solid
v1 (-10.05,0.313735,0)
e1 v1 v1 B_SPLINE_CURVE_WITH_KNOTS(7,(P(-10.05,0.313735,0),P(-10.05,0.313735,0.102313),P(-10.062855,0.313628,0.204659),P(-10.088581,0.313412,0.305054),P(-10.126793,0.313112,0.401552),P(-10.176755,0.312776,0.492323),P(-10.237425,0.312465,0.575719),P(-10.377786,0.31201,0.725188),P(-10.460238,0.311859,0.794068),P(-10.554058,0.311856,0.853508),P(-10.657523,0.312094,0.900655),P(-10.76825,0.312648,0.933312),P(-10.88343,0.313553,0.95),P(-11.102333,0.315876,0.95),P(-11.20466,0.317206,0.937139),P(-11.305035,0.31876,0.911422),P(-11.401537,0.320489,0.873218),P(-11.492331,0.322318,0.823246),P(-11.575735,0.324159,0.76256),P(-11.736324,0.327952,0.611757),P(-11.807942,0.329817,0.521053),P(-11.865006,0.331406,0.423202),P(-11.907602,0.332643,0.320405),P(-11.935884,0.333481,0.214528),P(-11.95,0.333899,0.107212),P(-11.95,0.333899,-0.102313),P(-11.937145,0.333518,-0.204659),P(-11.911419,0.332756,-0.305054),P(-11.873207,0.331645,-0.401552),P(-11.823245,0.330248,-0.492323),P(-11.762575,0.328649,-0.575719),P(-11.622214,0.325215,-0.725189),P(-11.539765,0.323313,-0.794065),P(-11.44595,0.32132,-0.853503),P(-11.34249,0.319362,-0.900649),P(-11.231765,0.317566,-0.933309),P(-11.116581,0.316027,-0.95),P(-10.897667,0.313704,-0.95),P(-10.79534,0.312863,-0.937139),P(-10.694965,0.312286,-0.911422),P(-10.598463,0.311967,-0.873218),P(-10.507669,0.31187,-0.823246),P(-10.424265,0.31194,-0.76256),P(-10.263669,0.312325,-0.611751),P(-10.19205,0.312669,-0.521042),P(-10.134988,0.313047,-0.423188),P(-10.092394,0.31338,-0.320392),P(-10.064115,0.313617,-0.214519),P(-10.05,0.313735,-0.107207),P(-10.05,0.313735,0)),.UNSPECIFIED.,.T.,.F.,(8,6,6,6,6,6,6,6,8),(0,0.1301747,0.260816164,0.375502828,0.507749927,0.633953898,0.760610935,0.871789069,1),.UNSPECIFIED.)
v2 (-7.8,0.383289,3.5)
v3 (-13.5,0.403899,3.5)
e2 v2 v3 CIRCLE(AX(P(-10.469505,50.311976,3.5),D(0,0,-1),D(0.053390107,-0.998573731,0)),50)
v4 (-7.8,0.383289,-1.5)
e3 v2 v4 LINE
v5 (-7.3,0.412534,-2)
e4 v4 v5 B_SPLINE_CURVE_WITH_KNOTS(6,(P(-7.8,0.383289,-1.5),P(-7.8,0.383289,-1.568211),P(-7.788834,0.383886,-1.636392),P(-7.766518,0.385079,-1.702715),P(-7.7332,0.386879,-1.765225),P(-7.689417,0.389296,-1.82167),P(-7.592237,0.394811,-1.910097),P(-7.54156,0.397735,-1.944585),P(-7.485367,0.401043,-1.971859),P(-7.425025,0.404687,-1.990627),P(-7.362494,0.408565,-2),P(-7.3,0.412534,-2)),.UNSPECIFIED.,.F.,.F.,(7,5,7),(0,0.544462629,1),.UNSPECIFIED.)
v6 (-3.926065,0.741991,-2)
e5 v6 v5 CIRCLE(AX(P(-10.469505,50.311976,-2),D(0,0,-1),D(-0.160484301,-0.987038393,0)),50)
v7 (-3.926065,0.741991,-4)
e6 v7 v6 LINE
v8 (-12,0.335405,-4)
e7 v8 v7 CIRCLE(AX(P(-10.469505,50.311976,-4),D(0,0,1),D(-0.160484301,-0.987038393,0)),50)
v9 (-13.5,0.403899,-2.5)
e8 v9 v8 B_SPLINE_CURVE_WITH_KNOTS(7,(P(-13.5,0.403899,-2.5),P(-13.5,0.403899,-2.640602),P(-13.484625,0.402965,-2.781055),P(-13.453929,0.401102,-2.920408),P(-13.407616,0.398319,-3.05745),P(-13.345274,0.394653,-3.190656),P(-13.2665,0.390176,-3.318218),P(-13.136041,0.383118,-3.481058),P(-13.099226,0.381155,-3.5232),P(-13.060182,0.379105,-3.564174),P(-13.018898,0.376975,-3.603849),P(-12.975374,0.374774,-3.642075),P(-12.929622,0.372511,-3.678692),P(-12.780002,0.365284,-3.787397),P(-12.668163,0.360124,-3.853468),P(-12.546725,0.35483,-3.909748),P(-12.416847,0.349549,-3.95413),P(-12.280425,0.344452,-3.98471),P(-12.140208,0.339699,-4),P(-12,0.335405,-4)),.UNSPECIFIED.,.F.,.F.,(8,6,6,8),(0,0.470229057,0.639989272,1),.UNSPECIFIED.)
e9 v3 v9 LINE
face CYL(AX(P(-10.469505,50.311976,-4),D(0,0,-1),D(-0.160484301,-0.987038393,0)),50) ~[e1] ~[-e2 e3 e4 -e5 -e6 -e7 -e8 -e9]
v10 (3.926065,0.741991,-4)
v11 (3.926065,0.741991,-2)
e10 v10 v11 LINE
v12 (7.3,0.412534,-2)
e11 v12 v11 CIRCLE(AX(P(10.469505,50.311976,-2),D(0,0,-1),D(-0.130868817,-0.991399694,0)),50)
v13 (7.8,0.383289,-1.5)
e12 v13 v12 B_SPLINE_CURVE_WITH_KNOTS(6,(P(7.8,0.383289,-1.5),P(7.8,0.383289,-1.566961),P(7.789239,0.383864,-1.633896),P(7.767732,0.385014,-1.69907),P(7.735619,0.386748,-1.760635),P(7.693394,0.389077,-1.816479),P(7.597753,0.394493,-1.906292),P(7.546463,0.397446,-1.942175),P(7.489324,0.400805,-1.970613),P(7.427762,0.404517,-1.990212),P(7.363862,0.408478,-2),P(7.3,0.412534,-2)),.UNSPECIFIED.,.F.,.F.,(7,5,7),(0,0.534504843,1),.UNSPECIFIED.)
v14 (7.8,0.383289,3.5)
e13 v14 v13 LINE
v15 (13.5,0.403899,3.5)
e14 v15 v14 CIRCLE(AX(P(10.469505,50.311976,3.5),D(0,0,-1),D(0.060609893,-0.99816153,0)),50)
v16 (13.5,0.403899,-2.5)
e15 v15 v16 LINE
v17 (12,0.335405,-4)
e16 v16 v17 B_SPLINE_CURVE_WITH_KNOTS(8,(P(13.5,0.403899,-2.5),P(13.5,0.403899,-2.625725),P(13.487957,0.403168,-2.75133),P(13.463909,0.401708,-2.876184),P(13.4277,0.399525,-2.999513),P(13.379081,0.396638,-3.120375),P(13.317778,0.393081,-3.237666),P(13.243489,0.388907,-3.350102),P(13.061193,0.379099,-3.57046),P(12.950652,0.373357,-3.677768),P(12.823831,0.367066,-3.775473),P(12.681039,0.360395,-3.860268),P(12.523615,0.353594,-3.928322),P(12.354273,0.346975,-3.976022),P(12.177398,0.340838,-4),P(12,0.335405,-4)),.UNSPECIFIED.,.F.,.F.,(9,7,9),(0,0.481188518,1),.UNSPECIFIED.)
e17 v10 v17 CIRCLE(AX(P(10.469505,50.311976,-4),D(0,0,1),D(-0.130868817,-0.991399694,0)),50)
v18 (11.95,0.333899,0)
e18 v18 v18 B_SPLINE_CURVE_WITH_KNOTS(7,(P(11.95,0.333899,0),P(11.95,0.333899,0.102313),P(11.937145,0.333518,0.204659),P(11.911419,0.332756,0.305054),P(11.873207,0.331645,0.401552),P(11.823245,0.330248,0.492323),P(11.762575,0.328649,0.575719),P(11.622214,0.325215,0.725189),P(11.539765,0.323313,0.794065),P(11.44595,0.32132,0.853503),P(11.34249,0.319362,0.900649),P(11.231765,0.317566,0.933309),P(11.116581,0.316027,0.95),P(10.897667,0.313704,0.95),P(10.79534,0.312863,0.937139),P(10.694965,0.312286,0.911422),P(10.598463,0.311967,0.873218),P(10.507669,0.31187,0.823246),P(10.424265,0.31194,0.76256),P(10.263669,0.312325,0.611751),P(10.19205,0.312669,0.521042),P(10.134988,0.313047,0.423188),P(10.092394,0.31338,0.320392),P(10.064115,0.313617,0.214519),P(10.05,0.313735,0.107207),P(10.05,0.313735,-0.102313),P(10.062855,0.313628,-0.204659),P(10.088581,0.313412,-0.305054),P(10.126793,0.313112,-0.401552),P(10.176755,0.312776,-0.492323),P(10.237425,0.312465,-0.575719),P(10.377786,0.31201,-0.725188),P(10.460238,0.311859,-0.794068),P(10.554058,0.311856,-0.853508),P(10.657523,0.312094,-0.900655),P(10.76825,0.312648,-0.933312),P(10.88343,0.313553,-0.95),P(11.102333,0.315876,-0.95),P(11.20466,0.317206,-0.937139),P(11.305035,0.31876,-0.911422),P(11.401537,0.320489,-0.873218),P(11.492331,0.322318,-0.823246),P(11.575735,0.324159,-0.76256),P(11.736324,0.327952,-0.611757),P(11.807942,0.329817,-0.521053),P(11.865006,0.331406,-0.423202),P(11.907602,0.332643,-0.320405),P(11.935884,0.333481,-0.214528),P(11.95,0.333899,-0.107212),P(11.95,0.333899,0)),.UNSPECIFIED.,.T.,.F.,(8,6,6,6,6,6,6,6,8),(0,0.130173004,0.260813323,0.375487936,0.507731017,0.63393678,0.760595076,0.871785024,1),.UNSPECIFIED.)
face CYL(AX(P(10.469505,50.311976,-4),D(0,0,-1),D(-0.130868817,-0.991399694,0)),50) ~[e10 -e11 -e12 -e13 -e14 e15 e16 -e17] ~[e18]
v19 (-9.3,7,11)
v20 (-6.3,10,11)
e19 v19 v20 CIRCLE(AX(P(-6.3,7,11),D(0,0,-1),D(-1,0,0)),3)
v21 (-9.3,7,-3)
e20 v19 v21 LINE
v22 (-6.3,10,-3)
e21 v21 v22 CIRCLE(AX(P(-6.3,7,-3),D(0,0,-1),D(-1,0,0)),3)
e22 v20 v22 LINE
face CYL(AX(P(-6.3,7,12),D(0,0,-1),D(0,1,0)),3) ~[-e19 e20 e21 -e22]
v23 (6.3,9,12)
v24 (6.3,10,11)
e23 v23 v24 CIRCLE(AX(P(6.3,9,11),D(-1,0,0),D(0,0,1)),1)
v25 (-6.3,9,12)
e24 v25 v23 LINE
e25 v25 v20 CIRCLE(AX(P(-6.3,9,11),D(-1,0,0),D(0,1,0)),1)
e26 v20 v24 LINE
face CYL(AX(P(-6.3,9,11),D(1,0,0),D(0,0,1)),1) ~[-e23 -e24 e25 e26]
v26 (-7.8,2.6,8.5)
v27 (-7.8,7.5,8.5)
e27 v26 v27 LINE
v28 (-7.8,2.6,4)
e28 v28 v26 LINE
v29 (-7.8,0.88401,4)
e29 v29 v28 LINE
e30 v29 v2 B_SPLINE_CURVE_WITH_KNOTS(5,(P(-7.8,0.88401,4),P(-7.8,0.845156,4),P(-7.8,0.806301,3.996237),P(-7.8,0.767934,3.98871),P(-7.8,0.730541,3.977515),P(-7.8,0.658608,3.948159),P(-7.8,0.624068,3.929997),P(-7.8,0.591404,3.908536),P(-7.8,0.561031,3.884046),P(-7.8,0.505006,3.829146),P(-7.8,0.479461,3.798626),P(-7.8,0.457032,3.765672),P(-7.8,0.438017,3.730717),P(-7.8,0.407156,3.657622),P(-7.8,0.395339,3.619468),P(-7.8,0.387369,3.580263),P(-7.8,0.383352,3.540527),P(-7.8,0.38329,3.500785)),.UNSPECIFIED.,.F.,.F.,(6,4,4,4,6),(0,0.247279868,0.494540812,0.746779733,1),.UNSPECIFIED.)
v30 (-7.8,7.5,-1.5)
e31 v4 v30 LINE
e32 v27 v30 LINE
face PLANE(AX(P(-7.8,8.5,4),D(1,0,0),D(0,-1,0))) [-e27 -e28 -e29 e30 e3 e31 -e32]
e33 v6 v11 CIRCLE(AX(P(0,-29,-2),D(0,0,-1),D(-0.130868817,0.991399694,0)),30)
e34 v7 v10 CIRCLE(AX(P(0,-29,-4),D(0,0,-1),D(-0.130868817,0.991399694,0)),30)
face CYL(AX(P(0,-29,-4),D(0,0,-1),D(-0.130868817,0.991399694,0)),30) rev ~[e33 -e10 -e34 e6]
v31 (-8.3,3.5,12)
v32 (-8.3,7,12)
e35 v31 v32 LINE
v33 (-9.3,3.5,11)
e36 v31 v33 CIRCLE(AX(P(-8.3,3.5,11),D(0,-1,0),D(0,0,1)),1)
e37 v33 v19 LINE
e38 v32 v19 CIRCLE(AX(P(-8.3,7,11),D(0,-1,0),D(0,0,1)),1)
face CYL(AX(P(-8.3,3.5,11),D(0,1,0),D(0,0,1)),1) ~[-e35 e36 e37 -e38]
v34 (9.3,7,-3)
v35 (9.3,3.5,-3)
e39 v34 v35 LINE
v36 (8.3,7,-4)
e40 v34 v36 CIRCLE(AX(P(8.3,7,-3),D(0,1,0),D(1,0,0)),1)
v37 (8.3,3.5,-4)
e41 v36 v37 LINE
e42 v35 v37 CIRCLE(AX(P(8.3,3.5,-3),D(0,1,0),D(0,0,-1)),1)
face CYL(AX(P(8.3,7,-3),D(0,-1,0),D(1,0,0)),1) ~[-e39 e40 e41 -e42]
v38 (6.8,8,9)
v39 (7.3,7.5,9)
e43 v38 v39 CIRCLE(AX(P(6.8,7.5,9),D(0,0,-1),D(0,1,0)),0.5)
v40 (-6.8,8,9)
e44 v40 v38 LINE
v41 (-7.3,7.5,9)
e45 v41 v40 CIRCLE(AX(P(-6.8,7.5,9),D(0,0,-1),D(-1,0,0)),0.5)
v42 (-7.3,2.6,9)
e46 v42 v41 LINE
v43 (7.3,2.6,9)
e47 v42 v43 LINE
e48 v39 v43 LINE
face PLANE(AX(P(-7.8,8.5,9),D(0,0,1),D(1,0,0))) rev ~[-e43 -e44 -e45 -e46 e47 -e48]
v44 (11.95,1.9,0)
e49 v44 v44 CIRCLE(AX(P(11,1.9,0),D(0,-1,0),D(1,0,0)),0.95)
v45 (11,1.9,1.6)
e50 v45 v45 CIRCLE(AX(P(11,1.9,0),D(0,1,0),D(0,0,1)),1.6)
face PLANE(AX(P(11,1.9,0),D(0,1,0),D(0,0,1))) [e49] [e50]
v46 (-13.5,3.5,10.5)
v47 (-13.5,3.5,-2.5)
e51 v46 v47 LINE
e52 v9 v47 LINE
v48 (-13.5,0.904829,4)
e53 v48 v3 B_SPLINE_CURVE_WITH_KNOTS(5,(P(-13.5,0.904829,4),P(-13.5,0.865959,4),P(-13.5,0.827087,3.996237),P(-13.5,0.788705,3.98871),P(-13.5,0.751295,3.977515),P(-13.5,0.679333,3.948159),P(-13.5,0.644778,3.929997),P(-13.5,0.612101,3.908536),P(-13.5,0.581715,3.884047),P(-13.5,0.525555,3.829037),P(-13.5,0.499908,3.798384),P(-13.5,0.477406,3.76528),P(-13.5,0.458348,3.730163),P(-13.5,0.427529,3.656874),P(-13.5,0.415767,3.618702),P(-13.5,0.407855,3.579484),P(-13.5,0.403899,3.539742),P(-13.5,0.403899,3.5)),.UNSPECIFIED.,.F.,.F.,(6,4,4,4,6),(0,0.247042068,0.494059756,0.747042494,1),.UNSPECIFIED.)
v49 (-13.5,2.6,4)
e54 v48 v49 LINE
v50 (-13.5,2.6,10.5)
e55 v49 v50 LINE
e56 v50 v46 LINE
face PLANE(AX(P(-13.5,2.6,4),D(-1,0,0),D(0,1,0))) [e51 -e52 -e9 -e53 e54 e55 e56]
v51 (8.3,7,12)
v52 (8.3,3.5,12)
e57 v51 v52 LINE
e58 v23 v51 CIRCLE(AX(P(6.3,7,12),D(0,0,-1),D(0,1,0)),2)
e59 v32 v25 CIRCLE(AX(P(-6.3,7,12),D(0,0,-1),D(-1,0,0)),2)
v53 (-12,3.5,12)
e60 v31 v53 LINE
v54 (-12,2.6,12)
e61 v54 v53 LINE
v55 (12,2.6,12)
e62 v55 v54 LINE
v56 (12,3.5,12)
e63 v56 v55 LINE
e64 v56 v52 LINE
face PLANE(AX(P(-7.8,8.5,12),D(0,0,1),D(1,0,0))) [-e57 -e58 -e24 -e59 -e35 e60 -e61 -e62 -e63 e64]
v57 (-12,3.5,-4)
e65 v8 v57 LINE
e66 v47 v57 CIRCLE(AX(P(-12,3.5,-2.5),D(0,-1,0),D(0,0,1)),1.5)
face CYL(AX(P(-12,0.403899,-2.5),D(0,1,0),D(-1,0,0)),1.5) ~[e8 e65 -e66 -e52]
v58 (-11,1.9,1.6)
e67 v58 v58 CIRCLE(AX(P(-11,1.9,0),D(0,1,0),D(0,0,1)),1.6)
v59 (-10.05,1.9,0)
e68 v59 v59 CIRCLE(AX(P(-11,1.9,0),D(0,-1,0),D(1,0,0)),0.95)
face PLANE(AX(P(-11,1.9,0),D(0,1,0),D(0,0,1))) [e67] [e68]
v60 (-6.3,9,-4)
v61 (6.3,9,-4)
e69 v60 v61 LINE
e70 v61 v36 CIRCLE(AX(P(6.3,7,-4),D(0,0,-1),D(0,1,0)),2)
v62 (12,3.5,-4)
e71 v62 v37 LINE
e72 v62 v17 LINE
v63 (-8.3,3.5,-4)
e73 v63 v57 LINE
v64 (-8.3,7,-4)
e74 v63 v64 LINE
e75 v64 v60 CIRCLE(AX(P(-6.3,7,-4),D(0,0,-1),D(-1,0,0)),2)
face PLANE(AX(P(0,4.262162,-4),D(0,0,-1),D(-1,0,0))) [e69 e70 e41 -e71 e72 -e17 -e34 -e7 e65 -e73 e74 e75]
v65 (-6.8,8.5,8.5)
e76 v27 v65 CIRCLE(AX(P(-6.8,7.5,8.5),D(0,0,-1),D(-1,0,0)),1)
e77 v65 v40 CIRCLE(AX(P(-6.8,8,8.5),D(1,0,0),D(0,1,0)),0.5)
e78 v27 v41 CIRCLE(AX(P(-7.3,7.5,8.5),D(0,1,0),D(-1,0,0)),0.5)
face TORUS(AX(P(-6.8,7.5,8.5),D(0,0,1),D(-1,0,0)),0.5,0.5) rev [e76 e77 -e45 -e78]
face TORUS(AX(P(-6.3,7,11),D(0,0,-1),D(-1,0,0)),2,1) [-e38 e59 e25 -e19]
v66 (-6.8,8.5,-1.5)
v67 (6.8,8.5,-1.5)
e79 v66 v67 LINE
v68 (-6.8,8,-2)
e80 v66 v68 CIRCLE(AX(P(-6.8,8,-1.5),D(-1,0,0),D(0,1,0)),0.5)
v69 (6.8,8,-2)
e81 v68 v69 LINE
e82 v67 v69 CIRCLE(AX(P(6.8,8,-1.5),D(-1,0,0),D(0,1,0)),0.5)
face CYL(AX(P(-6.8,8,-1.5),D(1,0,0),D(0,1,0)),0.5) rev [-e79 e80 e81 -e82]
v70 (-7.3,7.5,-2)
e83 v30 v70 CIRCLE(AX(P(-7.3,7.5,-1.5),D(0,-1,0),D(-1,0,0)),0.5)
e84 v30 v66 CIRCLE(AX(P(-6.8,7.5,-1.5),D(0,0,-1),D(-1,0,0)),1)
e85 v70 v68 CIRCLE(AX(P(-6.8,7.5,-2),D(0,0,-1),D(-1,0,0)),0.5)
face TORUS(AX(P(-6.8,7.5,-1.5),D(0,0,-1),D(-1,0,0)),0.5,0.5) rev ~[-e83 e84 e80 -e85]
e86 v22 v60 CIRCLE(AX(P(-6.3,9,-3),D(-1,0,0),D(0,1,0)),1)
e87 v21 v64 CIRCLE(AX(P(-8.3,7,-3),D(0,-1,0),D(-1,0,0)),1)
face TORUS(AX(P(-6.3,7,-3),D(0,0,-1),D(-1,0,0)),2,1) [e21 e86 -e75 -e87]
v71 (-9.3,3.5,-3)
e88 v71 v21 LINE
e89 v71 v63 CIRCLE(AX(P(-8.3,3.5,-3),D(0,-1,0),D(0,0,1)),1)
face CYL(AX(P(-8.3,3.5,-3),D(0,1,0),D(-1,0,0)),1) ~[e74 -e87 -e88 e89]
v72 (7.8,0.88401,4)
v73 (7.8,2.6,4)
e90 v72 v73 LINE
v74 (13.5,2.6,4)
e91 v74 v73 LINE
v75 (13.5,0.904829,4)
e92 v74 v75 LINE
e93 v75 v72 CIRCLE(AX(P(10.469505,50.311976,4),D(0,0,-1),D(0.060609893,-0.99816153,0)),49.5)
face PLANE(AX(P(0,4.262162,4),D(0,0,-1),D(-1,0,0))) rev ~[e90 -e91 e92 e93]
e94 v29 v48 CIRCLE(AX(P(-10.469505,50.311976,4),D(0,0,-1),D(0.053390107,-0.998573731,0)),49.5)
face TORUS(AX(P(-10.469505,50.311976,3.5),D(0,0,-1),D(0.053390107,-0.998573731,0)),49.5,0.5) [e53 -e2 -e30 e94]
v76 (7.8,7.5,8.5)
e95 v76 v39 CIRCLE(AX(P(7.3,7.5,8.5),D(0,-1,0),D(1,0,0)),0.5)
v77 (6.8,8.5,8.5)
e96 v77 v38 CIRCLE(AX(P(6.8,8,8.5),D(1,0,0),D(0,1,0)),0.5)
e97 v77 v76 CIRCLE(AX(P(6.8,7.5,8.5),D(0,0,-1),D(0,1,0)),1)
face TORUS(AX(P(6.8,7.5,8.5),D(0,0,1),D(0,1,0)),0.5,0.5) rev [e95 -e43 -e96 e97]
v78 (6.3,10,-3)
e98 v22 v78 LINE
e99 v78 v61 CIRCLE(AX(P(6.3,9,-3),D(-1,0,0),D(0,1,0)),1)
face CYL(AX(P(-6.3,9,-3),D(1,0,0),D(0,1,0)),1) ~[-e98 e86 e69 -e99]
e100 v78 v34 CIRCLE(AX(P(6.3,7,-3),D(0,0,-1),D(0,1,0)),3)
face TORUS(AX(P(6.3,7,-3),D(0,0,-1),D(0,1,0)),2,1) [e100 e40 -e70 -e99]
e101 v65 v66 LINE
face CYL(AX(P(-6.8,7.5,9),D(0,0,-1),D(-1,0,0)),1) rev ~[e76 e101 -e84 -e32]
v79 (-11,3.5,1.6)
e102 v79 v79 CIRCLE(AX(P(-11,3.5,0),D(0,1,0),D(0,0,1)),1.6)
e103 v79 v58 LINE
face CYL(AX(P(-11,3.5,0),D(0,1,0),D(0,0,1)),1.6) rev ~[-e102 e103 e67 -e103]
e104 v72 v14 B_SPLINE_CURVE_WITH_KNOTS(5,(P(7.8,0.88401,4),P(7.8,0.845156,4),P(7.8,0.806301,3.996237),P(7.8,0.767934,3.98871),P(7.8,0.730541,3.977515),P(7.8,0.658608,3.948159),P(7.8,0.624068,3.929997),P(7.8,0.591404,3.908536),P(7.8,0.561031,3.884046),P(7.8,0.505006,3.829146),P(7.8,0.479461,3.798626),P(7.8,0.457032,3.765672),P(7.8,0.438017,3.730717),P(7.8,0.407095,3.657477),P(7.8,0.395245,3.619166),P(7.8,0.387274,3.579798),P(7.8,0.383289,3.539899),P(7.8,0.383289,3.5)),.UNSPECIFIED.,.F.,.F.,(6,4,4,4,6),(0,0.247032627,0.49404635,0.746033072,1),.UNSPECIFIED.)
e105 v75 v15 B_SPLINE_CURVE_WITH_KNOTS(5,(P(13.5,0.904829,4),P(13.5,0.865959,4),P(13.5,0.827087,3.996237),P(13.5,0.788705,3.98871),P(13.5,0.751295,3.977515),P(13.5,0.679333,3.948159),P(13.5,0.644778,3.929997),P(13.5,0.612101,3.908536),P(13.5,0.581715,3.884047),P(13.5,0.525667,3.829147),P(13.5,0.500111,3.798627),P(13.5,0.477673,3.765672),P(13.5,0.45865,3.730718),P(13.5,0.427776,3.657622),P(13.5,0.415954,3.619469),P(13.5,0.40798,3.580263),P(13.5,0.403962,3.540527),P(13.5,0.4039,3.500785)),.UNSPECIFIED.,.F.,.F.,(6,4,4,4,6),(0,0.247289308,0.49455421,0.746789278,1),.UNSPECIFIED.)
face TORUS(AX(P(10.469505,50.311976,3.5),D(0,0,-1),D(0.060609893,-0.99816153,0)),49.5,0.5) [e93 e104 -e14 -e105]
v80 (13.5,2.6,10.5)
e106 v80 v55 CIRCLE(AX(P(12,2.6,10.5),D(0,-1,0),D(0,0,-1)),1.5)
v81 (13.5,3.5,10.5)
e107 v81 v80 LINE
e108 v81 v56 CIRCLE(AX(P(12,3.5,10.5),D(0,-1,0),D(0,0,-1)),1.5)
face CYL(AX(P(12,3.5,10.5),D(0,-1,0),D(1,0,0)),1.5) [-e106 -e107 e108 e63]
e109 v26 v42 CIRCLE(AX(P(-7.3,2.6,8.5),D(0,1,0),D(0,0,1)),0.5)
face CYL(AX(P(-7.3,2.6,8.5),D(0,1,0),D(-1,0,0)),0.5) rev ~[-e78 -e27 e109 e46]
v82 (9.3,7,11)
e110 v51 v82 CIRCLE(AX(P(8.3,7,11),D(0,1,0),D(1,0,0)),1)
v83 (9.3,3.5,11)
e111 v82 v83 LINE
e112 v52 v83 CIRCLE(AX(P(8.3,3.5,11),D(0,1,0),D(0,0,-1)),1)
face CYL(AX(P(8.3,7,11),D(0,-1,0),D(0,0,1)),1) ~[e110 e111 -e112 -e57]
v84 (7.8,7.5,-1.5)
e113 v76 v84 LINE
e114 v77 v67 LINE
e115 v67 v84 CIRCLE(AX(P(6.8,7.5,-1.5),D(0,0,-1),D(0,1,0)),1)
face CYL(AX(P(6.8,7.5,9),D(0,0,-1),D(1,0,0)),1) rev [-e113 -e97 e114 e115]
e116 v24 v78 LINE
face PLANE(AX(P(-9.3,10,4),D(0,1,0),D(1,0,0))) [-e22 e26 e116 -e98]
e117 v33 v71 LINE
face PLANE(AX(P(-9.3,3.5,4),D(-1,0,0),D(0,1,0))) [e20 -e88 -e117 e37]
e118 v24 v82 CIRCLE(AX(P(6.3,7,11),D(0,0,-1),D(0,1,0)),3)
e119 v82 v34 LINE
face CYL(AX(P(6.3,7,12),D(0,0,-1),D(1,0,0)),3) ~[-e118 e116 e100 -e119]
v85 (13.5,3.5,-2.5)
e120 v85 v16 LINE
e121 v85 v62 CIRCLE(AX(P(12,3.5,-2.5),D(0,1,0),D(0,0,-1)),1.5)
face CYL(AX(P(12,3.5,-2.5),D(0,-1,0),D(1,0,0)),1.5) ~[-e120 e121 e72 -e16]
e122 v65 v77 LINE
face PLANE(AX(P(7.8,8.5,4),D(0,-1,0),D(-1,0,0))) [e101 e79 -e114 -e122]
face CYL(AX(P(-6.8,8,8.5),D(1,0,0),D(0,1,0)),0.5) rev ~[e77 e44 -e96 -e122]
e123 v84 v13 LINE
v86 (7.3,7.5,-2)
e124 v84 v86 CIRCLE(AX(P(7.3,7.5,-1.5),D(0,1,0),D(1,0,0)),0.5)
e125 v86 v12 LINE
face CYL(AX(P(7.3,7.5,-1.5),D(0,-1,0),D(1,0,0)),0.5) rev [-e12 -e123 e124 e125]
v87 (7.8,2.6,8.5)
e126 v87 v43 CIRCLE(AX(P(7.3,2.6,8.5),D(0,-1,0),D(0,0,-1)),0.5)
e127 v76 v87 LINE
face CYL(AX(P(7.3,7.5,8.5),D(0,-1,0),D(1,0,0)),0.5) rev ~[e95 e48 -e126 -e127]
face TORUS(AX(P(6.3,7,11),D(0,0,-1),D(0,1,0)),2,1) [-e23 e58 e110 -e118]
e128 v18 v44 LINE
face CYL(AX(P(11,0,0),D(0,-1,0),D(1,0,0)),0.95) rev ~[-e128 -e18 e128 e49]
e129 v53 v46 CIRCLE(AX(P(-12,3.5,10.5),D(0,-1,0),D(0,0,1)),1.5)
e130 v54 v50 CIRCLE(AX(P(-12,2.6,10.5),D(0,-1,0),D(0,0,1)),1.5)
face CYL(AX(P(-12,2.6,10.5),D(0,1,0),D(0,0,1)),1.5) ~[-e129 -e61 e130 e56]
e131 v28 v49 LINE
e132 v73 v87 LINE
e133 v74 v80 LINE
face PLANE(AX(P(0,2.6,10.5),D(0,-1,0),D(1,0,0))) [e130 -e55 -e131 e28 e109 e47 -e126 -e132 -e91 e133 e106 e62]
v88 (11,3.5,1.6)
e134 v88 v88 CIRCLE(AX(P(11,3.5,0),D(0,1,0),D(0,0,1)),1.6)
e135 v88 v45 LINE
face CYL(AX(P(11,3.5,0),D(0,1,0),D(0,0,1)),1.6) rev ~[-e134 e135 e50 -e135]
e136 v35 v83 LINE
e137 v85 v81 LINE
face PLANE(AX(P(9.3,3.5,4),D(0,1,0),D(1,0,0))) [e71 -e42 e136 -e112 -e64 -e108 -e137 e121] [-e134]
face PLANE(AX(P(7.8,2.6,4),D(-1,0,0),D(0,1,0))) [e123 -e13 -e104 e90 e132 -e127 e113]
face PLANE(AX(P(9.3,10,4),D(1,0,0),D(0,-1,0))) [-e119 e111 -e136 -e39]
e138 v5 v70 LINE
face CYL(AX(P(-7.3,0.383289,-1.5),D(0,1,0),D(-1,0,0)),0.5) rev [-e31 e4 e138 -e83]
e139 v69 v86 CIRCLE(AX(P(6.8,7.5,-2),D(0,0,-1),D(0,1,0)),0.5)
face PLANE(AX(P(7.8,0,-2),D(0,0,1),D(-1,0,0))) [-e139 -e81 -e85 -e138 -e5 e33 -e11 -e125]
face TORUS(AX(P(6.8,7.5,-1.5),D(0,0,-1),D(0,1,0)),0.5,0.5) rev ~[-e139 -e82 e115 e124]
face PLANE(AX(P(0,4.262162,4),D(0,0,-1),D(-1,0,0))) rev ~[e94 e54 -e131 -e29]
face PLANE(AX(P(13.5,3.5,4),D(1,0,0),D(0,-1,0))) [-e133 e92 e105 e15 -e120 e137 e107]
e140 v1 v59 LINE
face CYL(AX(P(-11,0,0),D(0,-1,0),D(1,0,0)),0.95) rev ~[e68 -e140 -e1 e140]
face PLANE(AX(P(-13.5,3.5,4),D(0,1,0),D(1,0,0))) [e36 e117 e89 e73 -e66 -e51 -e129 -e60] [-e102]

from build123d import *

# Parameters (mm, degrees)
EXTRUDE_1_DEPTH     = 4
CUT_EXTRUDE_1_REACH = 19.27
SKETCH_2_R          = 0.95
SKETCH_5_W          = 15.6
SKETCH_5_H          = 6
CUT_EXTRUDE_2_DEPTH = 8.5
CUT_EXTRUDE_4_DEPTH = 19.607794066
EXTRUDE_2_DEPTH     = 8
SKETCH_12_W         = 15.6
SKETCH_12_H         = 3
EXTRUDE_3_DEPTH     = 5.9
SKETCH_13_R         = 1.6
CUT_EXTRUDE_5_DEPTH = 1.6
FILLET_1_R          = 3
FILLET_2_R          = 1
FILLET_3_R          = 1.5
FILLET_4_R          = 1
FILLET_5_R          = 0.5
FILLET_6_R          = 0.5


with BuildPart() as part:
    # 草图1 → 凸台-拉伸1 (new, symmetric)
    with BuildSketch(Plane.XY):
        Polygon((-13.5, 0), (-13.5, 3.5), (-9.3, 3.5), (-9.3, 10), (9.3, 10), (9.3, 3.5), (13.5, 3.5), (13.5, 0), align=None)
    extrude(amount=EXTRUDE_1_DEPTH, both=True)

    # 草图2 → 切除-拉伸1 (cut, up to next)
    with BuildSketch(Plane.XZ, mode=Mode.PRIVATE) as cut_extrude_1_sk1:
        with Locations((-11, 0)):
            Circle(SKETCH_2_R)
    cut_extrude_1_tool1 = extrude(cut_extrude_1_sk1.sketch, amount=-CUT_EXTRUDE_1_REACH, mode=Mode.PRIVATE) & part.part
    # 草图2 → 切除-拉伸1 (cut, up to next)
    with BuildSketch(Plane.XZ, mode=Mode.PRIVATE) as cut_extrude_1_sk2:
        with Locations((11, 0)):
            Circle(SKETCH_2_R)
    cut_extrude_1_tool2 = extrude(cut_extrude_1_sk2.sketch, amount=-CUT_EXTRUDE_1_REACH, mode=Mode.PRIVATE) & part.part
    add(cut_extrude_1_tool1.solids().sort_by_distance((-11, 0, 0))[0], mode=Mode.SUBTRACT)
    add(cut_extrude_1_tool2.solids().sort_by_distance((11, 0, 0))[0], mode=Mode.SUBTRACT)

    # 草图5 → 切除-拉伸2 (cut)
    with BuildSketch(Plane(origin=(0, 0, 0), x_dir=(-1, 0, 0), z_dir=(0, -1, 0))):
        with Locations((0, -1)):
            Rectangle(SKETCH_5_W, SKETCH_5_H)
    extrude(amount=-CUT_EXTRUDE_2_DEPTH, mode=Mode.SUBTRACT)

    # 草图8 → 切除-拉伸4 (cut, through all)
    with BuildSketch(Plane(origin=(0, 0, -4), x_dir=(-1, 0, 0), z_dir=(0, 0, -1))):
        with BuildLine():
            Line((-18.493720414, 0.960055854), (-18.493720414, -4.039944146))
            Line((-18.493720414, -4.039944146), (18.493720414, -4.039944146))
            Line((18.493720414, -4.039944146), (18.493720414, 0.960055854))
            ThreePointArc((18.493720414, 0.960055854), (11.217877694, 0.317576425), (3.926064508, 0.741990812))
            ThreePointArc((3.926064508, 0.741990812), (0, 1), (-3.926064508, 0.741990812))
            ThreePointArc((-3.926064508, 0.741990812), (-11.217877694, 0.317576425), (-18.493720414, 0.960055854))
        make_face()
    extrude(amount=-CUT_EXTRUDE_4_DEPTH, mode=Mode.SUBTRACT)

    # 草图11 → 凸台-拉伸2 (add)
    with BuildSketch(Plane.XY.offset(4)):
        Polygon((13.5, 2.6), (7.8, 2.6), (7.8, 8.5), (-7.8, 8.5), (-7.8, 2.6), (-13.5, 2.6), (-13.5, 3.5), (-9.3, 3.5), (-9.3, 10), (9.3, 10), (9.3, 3.5), (13.5, 3.5), align=None)
    extrude(amount=EXTRUDE_2_DEPTH)

    # 草图12 → 凸台-拉伸3 (add)
    with BuildSketch(Plane.XZ.offset(-8.5)):
        with Locations((0, 10.5)):
            Rectangle(SKETCH_12_W, SKETCH_12_H)
    extrude(amount=EXTRUDE_3_DEPTH)

    # 草图13 → 切除-拉伸5 (cut)
    with BuildSketch(Plane(origin=(0, 3.5, 0), x_dir=(1, 0, 0), z_dir=(0, 1, 0))):
        with Locations(Location((-11, 0, 0), (0, 0, 270))):
            Circle(SKETCH_13_R)
        with Locations(Location((11, 0, 0), (0, 0, 270))):
            Circle(SKETCH_13_R)
    extrude(amount=-CUT_EXTRUDE_5_DEPTH, mode=Mode.SUBTRACT)

    # 圆角1
    fillet_1_edges = [part.edges().sort_by_distance(p)[0] for p in [
        (-9.3, 10, 4),
        (9.3, 10, 4),
    ]]
    fillet(fillet_1_edges, radius=FILLET_1_R)

    # 圆角2
    fillet_2_edges = [part.edges().sort_by_distance(p)[0] for p in [
        (7.8, 8.5, 3.5),
        (-7.8, 8.5, 3.5),
    ]]
    fillet(fillet_2_edges, radius=FILLET_2_R)

    # 圆角3
    fillet_3_edges = [part.edges().sort_by_distance(p)[0] for p in [
        (13.5, 3.05, 12),
        (-13.5, 3.05, 12),
        (13.5, 1.951949488, -4),
        (-13.5, 1.951949488, -4),
    ]]
    fillet(fillet_3_edges, radius=FILLET_3_R)

    # 圆角4
    fillet_4_edges = [part.edges().sort_by_distance(p)[0] for p in [
        (9.3, 5.25, -4),
        (9.3, 5.25, 12),
        (0, 10, -4),
        (0, 10, 12),
        (-9.3, 5.25, -4),
        (-8.421320344, 9.121320344, -4),
        (8.421320344, 9.121320344, -4),
        (-9.3, 5.25, 12),
        (-8.421320344, 9.121320344, 12),
        (8.421320344, 9.121320344, 12),
    ]]
    fillet(fillet_4_edges, radius=FILLET_4_R)

    # 圆角5
    fillet_5_edges = [part.edges().sort_by_distance(p)[0] for p in [
        (10.650293934, 0.312302345, 4),
        (-10.650293934, 0.312302345, 4),
    ]]
    fillet(fillet_5_edges, radius=FILLET_5_R)

    # 圆角6
    fillet_6_edges = [part.edges().sort_by_distance(p)[0] for p in [
        (7.8, 5.05, 9),
        (-7.8, 5.05, 9),
        (-7.8, 3.941644472, -2),
        (0, 8.5, 9),
        (7.507106781, 8.207106781, 9),
        (-7.507106781, 8.207106781, 9),
        (0, 8.5, -2),
        (7.8, 3.941644472, -2),
        (7.507106781, 8.207106781, -2),
        (-7.507106781, 8.207106781, -2),
    ]]
    fillet(fillet_6_edges, radius=FILLET_6_R)


solid = part.part
